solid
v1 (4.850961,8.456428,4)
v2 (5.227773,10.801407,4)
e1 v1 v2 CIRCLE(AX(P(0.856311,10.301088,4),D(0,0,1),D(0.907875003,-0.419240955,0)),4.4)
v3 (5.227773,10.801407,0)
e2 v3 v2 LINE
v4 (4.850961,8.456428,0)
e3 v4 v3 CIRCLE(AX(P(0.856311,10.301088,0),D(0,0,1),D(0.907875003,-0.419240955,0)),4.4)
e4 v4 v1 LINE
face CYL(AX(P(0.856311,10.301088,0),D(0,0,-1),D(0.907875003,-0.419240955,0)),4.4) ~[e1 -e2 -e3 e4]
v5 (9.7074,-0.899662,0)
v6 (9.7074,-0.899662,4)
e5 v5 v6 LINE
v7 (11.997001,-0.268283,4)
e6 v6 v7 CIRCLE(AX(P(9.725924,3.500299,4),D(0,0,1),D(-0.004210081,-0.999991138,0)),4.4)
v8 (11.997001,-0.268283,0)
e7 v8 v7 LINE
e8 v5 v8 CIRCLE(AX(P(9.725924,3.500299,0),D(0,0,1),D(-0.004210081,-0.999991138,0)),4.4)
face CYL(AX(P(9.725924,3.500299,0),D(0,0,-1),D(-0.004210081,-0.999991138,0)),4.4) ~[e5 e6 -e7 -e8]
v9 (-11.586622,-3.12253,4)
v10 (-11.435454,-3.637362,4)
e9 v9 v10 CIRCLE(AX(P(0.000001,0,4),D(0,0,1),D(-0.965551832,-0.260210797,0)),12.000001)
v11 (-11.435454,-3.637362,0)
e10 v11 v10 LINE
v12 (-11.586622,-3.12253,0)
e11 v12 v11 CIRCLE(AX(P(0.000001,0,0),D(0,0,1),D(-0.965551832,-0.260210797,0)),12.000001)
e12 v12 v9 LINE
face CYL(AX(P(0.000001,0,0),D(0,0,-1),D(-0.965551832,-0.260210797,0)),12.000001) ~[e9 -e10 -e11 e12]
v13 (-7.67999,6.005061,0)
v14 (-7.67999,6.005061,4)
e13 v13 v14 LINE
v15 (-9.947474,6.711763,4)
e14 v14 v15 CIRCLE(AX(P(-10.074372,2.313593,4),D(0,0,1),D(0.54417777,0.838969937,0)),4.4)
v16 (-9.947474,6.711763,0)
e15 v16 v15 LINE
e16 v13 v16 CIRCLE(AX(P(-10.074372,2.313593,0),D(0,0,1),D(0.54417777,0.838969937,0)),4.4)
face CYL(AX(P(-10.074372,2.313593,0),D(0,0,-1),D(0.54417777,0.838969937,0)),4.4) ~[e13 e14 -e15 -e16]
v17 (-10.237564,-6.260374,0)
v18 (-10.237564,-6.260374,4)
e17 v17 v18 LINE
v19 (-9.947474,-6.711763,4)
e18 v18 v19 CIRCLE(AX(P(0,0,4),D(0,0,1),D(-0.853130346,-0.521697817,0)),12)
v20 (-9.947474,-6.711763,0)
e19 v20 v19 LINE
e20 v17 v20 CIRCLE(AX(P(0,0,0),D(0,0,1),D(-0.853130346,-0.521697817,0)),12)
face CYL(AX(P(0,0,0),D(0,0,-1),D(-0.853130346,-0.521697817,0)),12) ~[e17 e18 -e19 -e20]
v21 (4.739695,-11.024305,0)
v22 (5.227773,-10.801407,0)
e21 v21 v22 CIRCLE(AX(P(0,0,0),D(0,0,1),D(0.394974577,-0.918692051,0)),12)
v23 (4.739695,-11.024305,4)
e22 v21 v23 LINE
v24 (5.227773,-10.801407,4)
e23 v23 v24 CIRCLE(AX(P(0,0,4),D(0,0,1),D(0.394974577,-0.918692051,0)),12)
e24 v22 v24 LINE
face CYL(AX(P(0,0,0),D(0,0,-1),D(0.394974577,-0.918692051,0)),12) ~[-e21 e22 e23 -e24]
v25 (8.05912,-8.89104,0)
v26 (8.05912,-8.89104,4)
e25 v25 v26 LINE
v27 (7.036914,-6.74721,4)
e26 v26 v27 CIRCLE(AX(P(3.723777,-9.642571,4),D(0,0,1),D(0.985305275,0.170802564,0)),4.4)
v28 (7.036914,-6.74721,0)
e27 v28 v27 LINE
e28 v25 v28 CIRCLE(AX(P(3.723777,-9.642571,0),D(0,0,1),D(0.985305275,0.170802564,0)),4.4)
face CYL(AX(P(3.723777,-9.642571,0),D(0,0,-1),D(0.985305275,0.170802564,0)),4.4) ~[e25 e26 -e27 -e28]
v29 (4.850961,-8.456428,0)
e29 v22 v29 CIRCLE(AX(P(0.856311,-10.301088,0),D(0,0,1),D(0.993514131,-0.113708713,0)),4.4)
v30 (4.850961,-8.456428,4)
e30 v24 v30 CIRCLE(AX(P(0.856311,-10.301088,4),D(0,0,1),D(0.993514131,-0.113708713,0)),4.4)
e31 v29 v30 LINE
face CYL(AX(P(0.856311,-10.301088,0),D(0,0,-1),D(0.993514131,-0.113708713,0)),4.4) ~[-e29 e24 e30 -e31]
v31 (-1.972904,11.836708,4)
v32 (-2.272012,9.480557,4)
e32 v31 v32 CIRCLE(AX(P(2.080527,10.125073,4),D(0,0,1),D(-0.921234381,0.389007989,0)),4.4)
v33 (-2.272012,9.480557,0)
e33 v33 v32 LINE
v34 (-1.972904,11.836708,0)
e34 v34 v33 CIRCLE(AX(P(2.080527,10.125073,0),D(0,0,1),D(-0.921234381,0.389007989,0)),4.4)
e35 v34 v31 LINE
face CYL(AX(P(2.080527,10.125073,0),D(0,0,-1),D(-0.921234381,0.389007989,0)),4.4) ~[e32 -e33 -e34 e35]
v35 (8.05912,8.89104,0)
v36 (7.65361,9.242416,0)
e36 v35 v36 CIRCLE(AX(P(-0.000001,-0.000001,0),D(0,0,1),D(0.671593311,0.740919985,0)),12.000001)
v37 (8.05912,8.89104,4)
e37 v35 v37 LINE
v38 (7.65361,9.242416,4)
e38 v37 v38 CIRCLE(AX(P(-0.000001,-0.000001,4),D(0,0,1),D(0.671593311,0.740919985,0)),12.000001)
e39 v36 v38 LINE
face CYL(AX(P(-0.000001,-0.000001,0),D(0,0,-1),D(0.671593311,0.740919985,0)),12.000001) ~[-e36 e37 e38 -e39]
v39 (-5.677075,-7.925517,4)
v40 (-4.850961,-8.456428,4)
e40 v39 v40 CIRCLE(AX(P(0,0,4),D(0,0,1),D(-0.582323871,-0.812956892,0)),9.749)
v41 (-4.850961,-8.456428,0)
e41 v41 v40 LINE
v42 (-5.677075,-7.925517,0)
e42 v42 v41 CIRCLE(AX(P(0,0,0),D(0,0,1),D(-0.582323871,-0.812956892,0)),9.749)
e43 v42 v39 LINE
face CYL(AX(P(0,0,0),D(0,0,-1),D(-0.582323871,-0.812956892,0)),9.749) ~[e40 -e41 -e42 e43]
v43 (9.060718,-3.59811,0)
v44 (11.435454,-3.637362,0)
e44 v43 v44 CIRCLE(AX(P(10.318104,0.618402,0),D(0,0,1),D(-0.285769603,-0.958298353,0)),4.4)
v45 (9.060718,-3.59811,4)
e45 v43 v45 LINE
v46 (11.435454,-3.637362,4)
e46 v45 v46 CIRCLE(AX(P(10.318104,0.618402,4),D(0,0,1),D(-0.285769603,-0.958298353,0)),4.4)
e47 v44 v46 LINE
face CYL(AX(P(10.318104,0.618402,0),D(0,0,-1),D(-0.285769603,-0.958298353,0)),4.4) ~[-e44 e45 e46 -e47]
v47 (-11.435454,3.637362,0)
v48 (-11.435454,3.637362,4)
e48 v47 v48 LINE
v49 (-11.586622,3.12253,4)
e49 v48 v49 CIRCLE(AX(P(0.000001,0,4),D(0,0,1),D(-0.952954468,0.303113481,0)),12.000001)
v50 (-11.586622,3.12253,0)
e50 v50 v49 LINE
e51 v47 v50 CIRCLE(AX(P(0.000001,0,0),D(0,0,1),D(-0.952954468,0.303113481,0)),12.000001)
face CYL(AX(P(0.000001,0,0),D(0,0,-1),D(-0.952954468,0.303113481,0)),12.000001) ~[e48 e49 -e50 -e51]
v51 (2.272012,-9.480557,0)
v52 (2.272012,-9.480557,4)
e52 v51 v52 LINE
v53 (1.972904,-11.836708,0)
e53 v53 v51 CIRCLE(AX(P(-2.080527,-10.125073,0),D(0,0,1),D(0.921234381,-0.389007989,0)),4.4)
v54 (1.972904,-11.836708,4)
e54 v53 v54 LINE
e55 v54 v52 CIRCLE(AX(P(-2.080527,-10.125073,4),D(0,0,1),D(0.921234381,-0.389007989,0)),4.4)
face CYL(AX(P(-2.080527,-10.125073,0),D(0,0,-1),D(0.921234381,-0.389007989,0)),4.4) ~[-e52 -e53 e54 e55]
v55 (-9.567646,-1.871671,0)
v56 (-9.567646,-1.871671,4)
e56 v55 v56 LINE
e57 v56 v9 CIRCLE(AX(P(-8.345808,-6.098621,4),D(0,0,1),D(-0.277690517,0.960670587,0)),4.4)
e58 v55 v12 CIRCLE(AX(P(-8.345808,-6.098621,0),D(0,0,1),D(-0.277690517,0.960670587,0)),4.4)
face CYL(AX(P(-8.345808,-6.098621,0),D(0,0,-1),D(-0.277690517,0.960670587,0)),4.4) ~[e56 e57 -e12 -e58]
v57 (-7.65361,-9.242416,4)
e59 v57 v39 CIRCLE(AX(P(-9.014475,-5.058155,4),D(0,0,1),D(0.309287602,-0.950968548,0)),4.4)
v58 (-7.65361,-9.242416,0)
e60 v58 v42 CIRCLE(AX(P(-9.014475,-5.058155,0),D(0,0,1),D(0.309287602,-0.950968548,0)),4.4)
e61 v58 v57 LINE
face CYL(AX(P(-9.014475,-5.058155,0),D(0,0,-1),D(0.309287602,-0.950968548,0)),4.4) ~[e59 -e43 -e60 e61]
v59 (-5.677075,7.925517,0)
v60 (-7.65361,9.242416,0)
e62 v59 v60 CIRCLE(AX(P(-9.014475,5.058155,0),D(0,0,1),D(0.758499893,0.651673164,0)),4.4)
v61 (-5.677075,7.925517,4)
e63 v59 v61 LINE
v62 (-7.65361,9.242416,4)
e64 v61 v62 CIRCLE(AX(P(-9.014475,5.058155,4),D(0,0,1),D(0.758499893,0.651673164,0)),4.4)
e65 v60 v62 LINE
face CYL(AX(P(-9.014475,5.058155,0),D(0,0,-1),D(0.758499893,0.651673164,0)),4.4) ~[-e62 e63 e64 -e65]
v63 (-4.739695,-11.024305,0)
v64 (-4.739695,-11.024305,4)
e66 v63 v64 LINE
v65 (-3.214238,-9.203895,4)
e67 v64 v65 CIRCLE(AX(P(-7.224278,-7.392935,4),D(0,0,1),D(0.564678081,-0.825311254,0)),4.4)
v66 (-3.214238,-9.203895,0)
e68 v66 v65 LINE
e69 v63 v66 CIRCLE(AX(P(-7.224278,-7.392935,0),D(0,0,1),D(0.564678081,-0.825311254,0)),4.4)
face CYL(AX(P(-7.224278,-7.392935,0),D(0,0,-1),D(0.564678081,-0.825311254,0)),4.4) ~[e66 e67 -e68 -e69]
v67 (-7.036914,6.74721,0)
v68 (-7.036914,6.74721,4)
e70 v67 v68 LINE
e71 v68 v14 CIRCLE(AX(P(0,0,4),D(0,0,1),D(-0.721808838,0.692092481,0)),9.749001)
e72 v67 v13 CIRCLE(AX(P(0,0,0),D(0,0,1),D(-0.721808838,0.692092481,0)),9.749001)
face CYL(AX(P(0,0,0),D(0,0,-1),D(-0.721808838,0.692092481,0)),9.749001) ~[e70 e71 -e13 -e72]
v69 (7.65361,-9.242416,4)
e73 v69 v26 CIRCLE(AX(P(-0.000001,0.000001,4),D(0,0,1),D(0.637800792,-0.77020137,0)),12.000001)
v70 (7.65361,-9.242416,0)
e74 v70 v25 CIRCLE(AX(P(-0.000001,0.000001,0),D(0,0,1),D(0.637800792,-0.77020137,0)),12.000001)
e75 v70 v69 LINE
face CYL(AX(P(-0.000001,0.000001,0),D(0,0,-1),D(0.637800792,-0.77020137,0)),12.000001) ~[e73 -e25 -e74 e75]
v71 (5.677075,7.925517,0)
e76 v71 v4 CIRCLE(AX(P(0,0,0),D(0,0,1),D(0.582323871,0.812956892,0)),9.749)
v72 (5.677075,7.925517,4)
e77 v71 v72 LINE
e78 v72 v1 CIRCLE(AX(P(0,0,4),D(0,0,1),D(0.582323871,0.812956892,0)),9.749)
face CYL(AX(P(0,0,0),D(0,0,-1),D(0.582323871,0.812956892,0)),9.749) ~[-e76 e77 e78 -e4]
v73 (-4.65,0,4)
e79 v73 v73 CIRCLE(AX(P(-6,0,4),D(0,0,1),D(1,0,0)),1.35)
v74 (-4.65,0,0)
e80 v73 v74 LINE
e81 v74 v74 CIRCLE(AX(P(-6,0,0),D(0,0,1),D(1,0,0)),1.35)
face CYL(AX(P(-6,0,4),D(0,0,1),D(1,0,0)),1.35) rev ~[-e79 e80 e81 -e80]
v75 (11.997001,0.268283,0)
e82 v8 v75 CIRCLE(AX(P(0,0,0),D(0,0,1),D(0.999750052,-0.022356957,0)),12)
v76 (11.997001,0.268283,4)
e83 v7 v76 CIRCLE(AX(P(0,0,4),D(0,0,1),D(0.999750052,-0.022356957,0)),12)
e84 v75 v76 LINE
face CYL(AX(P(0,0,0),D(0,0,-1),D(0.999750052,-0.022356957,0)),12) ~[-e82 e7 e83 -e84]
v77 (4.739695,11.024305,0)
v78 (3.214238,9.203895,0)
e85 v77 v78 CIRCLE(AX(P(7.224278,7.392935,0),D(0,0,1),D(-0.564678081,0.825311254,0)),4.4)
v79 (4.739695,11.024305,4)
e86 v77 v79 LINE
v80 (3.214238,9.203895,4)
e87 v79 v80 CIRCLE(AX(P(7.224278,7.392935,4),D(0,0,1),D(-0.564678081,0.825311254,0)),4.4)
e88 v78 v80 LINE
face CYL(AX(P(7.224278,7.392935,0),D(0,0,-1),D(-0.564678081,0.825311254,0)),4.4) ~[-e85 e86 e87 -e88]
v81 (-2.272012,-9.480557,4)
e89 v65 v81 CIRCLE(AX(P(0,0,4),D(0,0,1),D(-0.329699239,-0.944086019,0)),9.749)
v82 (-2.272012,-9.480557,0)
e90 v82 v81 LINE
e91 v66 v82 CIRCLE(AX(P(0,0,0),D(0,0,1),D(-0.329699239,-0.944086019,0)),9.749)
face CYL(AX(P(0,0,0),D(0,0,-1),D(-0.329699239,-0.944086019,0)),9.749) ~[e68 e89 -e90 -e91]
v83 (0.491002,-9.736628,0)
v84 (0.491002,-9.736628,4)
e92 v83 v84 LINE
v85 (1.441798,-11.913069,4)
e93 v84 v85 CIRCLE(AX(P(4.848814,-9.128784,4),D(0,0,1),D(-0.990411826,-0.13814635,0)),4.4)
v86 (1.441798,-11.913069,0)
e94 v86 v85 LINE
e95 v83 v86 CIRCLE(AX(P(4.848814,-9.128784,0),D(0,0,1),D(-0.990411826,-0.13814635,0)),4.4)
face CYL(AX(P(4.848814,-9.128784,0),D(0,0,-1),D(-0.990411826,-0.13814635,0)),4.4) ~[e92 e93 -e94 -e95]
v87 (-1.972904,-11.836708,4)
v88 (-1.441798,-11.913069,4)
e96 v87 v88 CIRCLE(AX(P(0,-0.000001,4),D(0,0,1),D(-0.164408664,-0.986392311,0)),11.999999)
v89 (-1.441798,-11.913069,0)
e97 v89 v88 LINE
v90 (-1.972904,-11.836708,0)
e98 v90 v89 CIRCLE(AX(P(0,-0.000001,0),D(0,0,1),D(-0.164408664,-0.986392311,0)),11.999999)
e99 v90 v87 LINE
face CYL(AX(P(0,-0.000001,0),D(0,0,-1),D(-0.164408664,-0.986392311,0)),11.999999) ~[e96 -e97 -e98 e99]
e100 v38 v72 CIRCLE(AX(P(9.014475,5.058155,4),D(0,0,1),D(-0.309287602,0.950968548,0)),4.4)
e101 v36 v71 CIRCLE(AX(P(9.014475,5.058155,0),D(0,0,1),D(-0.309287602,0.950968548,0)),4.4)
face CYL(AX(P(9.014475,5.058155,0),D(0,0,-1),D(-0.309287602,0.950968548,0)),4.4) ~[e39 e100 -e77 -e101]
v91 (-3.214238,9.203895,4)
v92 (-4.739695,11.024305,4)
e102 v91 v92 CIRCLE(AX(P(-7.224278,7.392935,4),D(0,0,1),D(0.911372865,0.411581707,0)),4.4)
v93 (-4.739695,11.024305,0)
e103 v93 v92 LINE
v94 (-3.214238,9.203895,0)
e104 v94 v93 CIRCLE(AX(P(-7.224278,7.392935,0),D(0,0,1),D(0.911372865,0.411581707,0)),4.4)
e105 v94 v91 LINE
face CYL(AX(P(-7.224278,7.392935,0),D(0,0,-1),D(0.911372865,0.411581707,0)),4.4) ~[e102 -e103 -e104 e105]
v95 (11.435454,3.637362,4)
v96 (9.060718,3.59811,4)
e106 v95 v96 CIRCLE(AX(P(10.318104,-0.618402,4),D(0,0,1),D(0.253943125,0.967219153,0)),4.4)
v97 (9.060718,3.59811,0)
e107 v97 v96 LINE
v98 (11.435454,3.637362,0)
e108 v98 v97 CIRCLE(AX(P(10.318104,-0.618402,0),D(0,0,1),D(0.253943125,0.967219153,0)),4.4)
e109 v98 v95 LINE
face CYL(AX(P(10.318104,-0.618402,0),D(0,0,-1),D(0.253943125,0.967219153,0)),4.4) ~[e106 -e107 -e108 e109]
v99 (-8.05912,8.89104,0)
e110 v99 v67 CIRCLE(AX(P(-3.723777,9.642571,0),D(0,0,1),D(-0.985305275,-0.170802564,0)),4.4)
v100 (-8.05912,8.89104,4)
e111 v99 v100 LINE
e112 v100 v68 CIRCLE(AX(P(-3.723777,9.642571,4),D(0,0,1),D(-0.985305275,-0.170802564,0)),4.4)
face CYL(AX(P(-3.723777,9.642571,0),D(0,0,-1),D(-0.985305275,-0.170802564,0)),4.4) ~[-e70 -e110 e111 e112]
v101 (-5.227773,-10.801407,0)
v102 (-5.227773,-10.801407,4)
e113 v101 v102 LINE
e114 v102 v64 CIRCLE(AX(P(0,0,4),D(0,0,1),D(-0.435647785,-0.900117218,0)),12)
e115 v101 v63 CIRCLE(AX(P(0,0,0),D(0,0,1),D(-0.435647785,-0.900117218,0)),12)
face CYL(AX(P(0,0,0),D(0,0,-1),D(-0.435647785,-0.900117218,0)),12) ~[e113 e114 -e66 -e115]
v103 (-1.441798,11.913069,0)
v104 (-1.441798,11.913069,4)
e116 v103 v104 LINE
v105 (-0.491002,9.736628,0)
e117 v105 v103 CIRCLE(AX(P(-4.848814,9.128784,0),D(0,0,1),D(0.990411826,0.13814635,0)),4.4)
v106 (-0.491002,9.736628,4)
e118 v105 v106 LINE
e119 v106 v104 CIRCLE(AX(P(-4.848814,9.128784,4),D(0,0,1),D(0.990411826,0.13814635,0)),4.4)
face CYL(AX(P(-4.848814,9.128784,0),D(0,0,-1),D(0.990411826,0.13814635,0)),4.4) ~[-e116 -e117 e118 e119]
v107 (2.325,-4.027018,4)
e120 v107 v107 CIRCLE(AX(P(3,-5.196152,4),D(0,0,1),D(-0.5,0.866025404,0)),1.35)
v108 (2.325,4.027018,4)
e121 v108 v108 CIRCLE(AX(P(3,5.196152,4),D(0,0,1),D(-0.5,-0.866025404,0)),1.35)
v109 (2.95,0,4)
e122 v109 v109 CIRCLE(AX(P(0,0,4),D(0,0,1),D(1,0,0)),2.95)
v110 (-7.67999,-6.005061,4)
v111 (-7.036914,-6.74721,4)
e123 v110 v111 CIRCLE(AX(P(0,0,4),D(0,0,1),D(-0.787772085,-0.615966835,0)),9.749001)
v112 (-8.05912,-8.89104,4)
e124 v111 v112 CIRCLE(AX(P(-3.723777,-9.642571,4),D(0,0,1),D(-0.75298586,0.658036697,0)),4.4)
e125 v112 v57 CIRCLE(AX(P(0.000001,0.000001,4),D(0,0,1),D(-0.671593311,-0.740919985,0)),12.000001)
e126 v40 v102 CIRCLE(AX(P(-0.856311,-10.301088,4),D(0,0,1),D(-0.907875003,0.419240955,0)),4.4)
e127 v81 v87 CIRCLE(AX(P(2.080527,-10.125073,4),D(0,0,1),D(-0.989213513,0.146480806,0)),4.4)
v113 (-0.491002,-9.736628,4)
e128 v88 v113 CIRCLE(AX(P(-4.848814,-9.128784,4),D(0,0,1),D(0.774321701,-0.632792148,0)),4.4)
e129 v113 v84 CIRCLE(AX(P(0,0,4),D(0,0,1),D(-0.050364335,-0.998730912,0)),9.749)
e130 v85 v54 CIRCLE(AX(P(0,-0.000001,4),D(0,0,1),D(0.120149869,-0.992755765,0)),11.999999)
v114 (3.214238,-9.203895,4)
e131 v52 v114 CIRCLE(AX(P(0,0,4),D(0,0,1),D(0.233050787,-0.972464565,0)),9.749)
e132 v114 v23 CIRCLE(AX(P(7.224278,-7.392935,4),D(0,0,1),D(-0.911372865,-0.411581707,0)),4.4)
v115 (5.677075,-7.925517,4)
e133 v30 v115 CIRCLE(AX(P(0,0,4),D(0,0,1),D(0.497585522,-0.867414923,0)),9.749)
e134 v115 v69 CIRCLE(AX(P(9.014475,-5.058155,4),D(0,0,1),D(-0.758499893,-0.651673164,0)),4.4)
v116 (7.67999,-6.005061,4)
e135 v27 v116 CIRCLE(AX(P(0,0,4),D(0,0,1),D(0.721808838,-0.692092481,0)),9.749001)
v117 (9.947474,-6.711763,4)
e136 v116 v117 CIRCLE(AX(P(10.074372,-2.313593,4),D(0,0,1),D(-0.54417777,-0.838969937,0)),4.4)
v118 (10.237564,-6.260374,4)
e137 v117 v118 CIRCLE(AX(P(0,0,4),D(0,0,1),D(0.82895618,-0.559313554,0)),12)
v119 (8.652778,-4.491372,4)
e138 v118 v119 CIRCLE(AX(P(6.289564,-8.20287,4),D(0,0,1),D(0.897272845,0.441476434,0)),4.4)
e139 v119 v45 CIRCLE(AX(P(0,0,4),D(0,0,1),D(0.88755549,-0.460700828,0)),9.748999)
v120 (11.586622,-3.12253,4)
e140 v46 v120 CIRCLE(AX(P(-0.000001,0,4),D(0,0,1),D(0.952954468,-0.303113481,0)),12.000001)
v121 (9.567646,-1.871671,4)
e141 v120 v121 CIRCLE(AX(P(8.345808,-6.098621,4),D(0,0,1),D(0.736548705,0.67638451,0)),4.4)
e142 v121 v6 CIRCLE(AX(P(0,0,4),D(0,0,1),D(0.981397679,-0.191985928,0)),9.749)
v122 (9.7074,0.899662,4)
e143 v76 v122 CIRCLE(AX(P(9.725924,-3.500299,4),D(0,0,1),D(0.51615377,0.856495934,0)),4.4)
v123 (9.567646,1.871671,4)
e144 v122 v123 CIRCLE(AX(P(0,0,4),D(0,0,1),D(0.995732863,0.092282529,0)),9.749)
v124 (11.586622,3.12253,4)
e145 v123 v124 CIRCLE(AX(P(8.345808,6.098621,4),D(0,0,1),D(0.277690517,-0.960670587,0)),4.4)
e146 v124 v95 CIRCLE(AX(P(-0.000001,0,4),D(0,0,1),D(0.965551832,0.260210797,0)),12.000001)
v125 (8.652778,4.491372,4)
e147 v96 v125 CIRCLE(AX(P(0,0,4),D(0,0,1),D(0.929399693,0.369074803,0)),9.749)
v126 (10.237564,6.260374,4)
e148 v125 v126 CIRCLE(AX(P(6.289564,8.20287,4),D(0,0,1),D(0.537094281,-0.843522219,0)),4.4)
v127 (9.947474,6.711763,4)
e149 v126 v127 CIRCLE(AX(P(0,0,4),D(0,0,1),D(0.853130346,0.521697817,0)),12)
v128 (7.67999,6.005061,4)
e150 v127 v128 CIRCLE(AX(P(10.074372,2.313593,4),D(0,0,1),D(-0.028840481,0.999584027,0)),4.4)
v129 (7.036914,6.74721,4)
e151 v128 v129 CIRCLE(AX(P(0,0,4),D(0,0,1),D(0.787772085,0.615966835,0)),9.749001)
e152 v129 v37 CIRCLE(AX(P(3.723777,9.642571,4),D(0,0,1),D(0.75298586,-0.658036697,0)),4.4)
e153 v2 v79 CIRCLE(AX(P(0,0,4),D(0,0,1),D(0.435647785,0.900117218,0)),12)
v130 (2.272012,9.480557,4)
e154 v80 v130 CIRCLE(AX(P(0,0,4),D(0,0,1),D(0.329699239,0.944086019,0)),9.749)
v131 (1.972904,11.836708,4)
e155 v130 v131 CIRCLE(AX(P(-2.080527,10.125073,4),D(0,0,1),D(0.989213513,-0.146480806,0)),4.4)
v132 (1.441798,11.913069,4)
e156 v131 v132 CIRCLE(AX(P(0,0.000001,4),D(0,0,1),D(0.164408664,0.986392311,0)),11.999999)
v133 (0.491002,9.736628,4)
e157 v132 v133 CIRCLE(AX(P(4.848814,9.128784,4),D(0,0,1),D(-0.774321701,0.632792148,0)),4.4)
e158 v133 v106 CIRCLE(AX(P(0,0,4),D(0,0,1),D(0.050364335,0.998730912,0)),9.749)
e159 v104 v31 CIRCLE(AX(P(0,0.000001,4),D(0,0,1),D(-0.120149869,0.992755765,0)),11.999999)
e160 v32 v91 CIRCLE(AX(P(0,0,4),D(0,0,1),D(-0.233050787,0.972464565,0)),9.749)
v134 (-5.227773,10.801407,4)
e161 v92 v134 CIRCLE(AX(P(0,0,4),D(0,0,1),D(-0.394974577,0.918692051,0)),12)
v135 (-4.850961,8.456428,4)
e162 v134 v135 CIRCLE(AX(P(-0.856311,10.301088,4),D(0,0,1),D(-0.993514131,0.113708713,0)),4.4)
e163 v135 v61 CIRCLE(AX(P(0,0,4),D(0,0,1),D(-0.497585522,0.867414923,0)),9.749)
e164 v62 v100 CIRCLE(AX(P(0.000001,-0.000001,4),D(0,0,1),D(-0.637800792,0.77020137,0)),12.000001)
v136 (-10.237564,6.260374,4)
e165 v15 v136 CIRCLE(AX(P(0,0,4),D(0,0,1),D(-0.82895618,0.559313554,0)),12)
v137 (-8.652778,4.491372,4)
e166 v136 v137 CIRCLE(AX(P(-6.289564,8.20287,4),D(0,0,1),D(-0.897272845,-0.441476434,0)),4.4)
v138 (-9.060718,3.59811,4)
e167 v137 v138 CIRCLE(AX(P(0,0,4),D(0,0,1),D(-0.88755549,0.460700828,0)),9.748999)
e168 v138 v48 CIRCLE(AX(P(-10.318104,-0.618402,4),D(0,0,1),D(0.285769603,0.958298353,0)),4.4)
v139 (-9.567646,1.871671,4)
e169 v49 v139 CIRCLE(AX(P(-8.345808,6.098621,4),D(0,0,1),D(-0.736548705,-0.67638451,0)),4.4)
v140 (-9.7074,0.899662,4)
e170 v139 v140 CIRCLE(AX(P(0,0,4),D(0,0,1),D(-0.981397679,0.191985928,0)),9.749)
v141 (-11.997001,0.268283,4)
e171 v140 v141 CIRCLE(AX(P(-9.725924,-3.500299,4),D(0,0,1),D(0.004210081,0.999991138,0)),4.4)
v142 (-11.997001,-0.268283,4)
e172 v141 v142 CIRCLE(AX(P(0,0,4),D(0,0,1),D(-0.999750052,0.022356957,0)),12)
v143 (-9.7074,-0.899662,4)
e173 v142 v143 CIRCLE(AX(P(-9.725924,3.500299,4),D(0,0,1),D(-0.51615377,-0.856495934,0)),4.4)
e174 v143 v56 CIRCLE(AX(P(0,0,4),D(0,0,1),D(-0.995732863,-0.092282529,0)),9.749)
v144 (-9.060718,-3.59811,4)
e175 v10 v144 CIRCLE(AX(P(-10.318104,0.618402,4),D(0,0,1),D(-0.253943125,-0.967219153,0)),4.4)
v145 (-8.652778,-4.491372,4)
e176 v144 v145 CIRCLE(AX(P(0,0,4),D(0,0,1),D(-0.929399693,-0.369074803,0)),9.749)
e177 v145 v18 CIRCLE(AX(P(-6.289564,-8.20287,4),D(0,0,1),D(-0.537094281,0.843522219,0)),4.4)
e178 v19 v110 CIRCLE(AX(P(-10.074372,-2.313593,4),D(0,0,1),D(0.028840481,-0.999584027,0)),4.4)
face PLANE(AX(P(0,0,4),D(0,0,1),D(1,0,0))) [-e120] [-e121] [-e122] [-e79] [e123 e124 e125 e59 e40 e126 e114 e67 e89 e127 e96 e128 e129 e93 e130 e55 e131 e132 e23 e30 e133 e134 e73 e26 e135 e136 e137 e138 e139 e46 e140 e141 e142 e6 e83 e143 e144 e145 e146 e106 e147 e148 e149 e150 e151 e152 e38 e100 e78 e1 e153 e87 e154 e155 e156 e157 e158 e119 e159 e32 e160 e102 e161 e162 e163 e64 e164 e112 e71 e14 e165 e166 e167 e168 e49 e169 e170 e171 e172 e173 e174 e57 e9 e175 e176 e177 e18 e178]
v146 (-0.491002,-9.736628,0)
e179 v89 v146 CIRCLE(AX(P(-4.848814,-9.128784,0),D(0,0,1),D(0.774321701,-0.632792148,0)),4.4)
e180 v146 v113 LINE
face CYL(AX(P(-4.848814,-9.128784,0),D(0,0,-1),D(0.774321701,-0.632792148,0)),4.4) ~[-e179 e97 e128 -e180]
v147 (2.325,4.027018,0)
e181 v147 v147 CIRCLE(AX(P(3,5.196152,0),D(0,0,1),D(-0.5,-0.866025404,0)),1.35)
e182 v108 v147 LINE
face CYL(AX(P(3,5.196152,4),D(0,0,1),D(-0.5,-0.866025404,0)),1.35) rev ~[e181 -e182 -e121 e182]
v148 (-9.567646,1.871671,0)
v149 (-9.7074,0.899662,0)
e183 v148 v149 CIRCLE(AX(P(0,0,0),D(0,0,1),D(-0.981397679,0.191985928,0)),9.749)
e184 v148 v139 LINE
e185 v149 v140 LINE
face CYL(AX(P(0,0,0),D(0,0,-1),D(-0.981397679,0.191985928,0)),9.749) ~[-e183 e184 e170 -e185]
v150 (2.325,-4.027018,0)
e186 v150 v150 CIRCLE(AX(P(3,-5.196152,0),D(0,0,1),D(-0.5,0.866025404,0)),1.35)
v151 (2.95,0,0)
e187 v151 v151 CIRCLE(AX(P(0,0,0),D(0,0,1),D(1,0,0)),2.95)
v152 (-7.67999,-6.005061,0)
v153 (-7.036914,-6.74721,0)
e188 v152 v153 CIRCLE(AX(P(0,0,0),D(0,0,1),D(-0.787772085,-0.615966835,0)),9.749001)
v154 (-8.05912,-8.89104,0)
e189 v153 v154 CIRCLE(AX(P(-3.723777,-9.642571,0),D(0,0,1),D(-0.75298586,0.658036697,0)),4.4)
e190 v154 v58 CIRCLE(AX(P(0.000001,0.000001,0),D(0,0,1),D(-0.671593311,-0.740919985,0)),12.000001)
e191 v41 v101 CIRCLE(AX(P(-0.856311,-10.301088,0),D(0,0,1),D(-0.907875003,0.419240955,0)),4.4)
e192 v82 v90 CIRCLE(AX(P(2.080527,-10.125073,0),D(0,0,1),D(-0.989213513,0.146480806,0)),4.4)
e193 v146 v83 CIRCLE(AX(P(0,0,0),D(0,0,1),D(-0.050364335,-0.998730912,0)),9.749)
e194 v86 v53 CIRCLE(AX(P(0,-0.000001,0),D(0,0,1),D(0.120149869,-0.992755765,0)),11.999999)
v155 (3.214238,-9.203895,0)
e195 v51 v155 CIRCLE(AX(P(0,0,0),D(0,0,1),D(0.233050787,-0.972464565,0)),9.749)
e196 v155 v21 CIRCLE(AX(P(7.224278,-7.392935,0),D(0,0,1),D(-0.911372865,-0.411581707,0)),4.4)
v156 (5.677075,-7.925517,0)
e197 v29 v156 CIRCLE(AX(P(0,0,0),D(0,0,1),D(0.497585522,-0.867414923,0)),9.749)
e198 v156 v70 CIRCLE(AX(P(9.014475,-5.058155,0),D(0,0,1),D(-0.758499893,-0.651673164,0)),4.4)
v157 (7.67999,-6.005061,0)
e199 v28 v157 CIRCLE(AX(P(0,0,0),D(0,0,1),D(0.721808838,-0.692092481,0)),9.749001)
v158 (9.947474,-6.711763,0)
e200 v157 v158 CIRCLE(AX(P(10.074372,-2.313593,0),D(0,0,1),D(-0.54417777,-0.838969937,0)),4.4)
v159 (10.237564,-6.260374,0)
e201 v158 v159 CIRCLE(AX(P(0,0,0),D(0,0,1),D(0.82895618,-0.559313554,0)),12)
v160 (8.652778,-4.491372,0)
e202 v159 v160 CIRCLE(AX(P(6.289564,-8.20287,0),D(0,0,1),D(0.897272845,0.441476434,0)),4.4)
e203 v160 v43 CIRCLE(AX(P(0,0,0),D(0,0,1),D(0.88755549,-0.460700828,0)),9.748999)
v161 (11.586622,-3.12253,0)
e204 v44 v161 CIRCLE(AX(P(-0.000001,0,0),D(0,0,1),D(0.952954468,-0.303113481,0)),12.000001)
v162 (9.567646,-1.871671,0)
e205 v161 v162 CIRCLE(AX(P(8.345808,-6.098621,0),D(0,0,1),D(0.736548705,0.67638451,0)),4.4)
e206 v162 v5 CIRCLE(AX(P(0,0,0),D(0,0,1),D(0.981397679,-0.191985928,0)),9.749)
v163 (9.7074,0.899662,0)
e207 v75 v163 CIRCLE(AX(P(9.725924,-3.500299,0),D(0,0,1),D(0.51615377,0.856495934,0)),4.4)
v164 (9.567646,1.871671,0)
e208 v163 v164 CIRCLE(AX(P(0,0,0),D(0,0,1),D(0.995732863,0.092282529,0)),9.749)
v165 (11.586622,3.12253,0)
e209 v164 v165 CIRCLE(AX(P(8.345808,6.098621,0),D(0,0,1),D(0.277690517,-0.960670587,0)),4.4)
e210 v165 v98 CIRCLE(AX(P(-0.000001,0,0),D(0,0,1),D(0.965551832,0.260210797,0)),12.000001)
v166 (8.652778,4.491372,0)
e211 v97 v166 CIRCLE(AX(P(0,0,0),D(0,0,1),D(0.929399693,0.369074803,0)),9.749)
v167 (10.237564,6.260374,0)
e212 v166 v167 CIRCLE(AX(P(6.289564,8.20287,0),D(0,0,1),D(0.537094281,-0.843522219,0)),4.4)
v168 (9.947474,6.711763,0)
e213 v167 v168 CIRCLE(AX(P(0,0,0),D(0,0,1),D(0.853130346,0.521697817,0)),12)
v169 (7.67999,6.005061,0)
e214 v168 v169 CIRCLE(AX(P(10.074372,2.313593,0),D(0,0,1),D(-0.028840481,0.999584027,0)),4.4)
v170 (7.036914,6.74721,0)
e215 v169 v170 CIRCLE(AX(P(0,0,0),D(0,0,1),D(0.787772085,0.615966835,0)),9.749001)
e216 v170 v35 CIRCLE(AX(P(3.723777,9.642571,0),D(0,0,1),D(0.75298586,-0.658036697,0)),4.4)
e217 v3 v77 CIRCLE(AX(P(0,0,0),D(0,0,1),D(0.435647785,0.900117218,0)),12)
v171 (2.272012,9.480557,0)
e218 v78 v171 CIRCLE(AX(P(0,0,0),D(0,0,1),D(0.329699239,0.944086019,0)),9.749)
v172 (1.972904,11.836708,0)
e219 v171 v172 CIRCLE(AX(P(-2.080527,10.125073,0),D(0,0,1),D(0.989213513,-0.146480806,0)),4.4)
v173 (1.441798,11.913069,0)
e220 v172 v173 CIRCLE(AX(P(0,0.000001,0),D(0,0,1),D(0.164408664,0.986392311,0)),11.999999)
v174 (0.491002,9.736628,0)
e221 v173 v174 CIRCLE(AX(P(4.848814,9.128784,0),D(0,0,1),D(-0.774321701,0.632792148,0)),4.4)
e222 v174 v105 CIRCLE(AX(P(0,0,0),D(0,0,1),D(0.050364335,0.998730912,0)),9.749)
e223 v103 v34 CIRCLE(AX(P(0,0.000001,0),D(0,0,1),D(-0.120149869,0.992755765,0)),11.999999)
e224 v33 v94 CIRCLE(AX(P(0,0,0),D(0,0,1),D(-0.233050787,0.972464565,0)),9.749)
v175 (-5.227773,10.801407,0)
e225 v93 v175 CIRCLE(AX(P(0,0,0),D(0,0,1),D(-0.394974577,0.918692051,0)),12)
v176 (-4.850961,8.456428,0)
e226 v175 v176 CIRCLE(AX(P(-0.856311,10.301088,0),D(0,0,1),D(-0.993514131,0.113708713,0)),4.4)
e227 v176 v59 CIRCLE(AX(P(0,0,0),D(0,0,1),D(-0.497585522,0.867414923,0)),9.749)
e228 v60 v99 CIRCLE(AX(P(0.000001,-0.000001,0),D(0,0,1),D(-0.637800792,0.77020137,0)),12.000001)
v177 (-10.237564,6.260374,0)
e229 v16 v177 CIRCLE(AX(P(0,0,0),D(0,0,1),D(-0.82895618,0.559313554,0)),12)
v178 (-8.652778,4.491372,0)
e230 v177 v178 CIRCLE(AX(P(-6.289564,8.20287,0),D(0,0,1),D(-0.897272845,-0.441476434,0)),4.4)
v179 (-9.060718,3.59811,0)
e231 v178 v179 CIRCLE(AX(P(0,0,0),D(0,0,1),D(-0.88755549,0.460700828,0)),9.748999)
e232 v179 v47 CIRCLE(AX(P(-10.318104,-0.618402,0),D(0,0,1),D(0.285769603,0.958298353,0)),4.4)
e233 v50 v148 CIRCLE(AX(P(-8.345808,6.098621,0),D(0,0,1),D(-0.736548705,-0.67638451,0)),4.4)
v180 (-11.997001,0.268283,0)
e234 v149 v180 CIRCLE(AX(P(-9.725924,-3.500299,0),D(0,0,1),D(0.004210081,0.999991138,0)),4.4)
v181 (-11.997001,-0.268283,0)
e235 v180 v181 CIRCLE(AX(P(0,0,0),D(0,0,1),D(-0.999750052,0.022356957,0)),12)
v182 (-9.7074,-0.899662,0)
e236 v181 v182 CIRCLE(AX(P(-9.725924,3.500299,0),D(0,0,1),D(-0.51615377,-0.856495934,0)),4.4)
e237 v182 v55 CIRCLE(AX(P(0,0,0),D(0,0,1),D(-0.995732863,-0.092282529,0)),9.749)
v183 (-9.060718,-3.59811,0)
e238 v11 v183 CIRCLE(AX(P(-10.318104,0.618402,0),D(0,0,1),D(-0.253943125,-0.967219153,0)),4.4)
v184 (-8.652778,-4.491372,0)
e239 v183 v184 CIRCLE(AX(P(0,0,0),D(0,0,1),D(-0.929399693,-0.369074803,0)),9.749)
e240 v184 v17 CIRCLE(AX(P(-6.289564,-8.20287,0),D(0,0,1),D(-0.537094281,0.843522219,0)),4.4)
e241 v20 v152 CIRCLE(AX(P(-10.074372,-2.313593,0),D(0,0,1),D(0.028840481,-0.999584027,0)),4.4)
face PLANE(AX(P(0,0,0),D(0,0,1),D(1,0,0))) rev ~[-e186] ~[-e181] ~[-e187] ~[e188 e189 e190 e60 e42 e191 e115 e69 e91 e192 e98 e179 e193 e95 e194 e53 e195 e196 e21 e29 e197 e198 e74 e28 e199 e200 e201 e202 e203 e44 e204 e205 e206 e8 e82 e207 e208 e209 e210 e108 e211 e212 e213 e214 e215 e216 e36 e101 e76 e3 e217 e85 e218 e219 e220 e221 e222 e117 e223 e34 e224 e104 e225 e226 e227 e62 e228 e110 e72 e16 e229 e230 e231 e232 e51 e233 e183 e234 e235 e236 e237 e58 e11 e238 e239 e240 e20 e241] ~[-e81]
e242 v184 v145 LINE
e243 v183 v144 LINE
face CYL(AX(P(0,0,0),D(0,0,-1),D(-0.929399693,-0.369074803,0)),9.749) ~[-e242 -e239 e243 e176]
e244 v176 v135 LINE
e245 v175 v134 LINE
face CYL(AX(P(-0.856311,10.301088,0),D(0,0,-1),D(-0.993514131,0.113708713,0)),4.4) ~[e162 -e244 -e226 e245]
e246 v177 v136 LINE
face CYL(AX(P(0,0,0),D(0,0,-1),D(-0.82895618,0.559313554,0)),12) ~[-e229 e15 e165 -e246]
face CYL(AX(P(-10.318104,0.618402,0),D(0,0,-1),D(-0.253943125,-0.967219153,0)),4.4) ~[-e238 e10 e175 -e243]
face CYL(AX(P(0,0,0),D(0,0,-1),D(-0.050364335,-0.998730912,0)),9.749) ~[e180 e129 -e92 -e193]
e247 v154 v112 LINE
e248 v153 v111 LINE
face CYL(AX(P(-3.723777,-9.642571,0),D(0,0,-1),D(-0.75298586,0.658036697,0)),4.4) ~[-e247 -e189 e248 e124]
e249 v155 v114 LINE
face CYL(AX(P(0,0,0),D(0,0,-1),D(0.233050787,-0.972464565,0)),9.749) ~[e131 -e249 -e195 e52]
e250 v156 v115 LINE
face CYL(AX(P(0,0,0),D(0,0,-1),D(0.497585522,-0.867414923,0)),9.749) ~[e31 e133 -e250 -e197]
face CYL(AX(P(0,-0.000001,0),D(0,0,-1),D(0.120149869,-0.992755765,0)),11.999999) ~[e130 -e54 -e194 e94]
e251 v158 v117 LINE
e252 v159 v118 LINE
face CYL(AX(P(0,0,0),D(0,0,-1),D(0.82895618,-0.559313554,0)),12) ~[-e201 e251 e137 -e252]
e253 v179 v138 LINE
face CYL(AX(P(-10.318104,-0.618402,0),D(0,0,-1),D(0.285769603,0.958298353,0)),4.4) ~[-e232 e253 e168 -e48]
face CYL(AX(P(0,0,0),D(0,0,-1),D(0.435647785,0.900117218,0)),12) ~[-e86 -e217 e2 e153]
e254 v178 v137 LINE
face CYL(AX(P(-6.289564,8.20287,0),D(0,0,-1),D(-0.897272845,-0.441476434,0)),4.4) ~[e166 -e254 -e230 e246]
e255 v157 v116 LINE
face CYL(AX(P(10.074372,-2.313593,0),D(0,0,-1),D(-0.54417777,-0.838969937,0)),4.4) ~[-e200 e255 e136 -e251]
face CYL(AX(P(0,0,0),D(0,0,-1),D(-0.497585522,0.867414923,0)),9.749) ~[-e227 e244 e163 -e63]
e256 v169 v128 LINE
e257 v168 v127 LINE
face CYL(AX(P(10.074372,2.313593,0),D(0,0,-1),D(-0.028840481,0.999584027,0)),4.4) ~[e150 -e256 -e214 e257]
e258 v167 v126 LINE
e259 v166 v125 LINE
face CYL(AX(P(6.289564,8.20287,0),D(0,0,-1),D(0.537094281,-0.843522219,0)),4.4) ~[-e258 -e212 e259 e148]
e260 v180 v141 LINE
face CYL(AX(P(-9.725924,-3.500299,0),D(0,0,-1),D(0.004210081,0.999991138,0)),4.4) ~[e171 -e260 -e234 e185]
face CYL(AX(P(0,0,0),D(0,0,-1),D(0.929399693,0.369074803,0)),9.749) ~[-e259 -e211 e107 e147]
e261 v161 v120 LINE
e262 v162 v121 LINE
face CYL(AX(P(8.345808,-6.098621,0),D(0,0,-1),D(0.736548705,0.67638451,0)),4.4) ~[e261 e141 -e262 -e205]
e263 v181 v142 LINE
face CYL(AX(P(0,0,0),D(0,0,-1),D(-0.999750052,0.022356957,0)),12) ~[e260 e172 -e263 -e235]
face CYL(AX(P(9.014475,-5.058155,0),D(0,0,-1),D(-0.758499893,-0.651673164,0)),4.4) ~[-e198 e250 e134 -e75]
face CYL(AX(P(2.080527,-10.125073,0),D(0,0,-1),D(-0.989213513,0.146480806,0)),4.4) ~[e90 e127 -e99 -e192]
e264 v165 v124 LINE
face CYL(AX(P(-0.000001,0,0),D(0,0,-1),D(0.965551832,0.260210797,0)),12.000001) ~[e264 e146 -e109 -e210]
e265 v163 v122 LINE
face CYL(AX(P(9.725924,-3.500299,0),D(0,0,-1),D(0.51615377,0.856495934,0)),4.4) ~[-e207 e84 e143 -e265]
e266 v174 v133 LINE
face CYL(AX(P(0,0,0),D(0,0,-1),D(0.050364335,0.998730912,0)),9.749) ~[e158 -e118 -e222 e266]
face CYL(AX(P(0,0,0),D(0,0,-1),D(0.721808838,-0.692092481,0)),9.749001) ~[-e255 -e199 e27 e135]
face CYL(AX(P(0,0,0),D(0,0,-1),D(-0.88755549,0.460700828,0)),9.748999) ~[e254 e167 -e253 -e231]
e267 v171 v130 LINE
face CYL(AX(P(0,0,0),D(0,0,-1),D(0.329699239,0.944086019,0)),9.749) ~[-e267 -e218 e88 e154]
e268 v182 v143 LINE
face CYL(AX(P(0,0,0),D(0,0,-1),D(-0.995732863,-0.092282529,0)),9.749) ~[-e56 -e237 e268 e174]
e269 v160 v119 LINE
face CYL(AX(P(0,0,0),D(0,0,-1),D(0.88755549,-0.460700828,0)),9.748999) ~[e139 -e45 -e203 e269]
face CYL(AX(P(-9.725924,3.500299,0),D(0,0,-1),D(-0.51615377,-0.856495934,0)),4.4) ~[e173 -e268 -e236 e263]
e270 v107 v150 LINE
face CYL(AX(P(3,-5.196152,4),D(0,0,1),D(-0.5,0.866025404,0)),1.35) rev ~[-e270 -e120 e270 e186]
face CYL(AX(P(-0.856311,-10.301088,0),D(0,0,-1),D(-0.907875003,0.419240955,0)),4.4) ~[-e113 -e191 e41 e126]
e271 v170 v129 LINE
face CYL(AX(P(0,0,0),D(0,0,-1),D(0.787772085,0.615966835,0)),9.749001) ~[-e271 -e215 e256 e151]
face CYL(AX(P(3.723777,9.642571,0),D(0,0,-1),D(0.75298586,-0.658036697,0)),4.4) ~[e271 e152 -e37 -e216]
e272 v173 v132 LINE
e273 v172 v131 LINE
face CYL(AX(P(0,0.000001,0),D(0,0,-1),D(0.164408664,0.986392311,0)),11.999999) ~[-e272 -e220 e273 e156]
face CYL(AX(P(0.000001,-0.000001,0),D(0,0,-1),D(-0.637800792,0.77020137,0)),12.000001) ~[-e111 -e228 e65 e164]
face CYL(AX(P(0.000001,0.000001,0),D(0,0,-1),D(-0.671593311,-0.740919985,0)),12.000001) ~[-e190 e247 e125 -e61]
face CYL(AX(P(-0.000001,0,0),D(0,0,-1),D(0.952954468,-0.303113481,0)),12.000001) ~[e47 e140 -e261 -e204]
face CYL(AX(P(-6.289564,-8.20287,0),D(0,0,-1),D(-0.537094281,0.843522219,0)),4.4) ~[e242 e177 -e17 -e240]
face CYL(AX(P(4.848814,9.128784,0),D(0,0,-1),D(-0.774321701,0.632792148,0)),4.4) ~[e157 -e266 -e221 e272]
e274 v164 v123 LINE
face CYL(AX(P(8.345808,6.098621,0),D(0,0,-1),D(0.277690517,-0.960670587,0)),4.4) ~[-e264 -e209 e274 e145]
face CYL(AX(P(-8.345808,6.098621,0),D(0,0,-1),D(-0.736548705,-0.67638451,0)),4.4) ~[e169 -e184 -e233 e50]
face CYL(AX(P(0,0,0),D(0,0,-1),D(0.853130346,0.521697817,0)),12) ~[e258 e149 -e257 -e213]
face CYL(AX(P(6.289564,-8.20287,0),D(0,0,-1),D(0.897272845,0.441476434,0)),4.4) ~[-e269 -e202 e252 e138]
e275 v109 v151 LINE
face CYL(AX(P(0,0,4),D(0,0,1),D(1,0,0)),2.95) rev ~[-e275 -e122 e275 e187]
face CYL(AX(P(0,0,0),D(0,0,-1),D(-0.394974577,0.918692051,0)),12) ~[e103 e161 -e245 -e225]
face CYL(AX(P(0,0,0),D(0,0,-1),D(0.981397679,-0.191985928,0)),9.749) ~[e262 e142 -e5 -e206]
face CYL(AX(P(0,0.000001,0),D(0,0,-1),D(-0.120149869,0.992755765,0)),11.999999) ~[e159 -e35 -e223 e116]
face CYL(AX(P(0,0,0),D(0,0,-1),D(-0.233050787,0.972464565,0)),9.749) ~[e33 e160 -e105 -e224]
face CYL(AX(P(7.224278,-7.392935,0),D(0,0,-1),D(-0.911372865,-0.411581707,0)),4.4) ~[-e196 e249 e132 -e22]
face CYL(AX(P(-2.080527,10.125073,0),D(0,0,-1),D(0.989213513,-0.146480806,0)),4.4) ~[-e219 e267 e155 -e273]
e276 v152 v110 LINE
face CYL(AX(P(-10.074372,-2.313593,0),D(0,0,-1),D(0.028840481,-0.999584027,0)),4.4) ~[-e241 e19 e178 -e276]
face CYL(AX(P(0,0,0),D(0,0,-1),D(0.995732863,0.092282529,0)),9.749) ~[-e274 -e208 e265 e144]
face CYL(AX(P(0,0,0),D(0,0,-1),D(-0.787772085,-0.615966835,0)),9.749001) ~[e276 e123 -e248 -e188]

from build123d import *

# Parameters (mm, degrees)
MODEL_R             = 2.5
BOSS_EXTRUDE1_DEPTH = 4
SKETCH2_R           = 2.95
CUT_EXTRUDE1_DEPTH  = 4
SKETCH3_R           = 1.35
CUT_EXTRUDE2_DEPTH  = 4
CIRPATTERN1_COUNT   = 3


with BuildPart() as part:
    # Model → Boss-Extrude1 (new body)
    with BuildSketch(Plane.XY):
        with BuildLine():
            ThreePointArc((-11.997000624, 0.268283487), (-12, 0), (-11.997000624, -0.268283487))
            ThreePointArc((-11.997000624, -0.268283487), (-10.895606779, -0.741380557), (-9.707399683, -0.89966238))
            ThreePointArc((-9.707399683, -0.89966238), (-9.649769237, -1.387427358), (-9.56764597, -1.8716708))
            ThreePointArc((-9.56764597, -1.8716708), (-10.663129188, -2.358297721), (-11.586621996, -3.122529539))
            ThreePointArc((-11.586621996, -3.122529539), (-11.513915683, -3.380790682), (-11.43545361, -3.637361781))
            ThreePointArc((-11.43545361, -3.637361781), (-10.245387108, -3.780996591), (-9.060717605, -3.598110265))
            ThreePointArc((-9.060717605, -3.598110265), (-8.868002323, -4.049880962), (-8.652778483, -4.491372344))
            ThreePointArc((-8.652778483, -4.491372344), (-9.566788286, -5.266920743), (-10.237564162, -6.260373793))
            ThreePointArc((-10.237564162, -6.260373793), (-10.095042394, -6.487689809), (-9.947474154, -6.711762656))
            ThreePointArc((-9.947474154, -6.711762656), (-8.765147105, -6.514298768), (-7.679990073, -6.005060656))
            ThreePointArc((-7.679990073, -6.005060656), (-7.3678026, -6.384237295), (-7.036914342, -6.747209612))
            ThreePointArc((-7.036914342, -6.747209612), (-7.695403093, -7.74884917), (-8.059119765, -8.891039794))
            ThreePointArc((-8.059119765, -8.891039794), (-7.858328807, -9.068994892), (-7.653609502, -9.242416436))
            ThreePointArc((-7.653609502, -9.242416436), (-6.574807012, -8.719851201), (-5.67707542, -7.925516745))
            ThreePointArc((-5.67707542, -7.925516745), (-5.270707329, -8.201380692), (-4.850961252, -8.456428084))
            ThreePointArc((-4.850961252, -8.456428084), (-5.200582107, -9.603011921), (-5.227773414, -10.801406627))
            ThreePointArc((-5.227773414, -10.801406627), (-4.984980156, -10.915583944), (-4.739694926, -11.024304604))
            ThreePointArc((-4.739694926, -11.024304604), (-3.851815156, -10.218973149), (-3.214237879, -9.203894603))
            ThreePointArc((-3.214237879, -9.203894603), (-2.746610697, -9.354097), (-2.27201213, -9.480557045))
            ThreePointArc((-2.27201213, -9.480557045), (-2.284440889, -10.679195758), (-1.972903952, -11.836707735))
            ThreePointArc((-1.972903952, -11.836707735), (-1.707778059, -11.877857303), (-1.441798455, -11.913069177))
            ThreePointArc((-1.441798455, -11.913069177), (-0.816772145, -10.890214666), (-0.491001901, -9.736627657))
            ThreePointArc((-0.491001901, -9.736627657), (0, -9.749), (0.491001901, -9.736627657))
            ThreePointArc((0.491001901, -9.736627657), (0.816772145, -10.890214666), (1.441798455, -11.913069177))
            ThreePointArc((1.441798455, -11.913069177), (1.707778059, -11.877857303), (1.972903952, -11.836707735))
            ThreePointArc((1.972903952, -11.836707735), (2.284440889, -10.679195758), (2.27201213, -9.480557045))
            ThreePointArc((2.27201213, -9.480557045), (2.746610697, -9.354097), (3.214237879, -9.203894603))
            ThreePointArc((3.214237879, -9.203894603), (3.851815156, -10.218973149), (4.739694926, -11.024304604))
            ThreePointArc((4.739694926, -11.024304604), (4.984980156, -10.915583944), (5.227773414, -10.801406627))
            ThreePointArc((5.227773414, -10.801406627), (5.200582107, -9.603011921), (4.850961252, -8.456428084))
            ThreePointArc((4.850961252, -8.456428084), (5.270707329, -8.201380692), (5.67707542, -7.925516745))
            ThreePointArc((5.67707542, -7.925516745), (6.574807012, -8.719851201), (7.653609502, -9.242416436))
            ThreePointArc((7.653609502, -9.242416436), (7.858328807, -9.068994892), (8.059119765, -8.891039794))
            ThreePointArc((8.059119765, -8.891039794), (7.695403093, -7.74884917), (7.036914342, -6.747209612))
            ThreePointArc((7.036914342, -6.747209612), (7.3678026, -6.384237295), (7.679990073, -6.005060656))
            ThreePointArc((7.679990073, -6.005060656), (8.765147105, -6.514298768), (9.947474154, -6.711762656))
            ThreePointArc((9.947474154, -6.711762656), (10.095042394, -6.487689809), (10.237564162, -6.260373793))
            ThreePointArc((10.237564162, -6.260373793), (9.566788286, -5.266920743), (8.652778482, -4.491372344))
            ThreePointArc((8.652778482, -4.491372344), (8.868002323, -4.049880962), (9.060717605, -3.598110265))
            ThreePointArc((9.060717605, -3.598110265), (10.245387108, -3.780996591), (11.43545361, -3.637361781))
            ThreePointArc((11.43545361, -3.637361781), (11.513915683, -3.380790682), (11.586621996, -3.122529539))
            ThreePointArc((11.586621996, -3.122529539), (10.663129188, -2.358297721), (9.56764597, -1.8716708))
            ThreePointArc((9.56764597, -1.8716708), (9.649769237, -1.387427358), (9.707399683, -0.89966238))
            ThreePointArc((9.707399683, -0.89966238), (10.895606779, -0.741380557), (11.997000624, -0.268283487))
            ThreePointArc((11.997000624, -0.268283487), (12, 0), (11.997000624, 0.268283487))
            ThreePointArc((11.997000624, 0.268283487), (10.895606779, 0.741380557), (9.707399683, 0.89966238))
            ThreePointArc((9.707399683, 0.89966238), (9.649769237, 1.387427358), (9.56764597, 1.8716708))
            ThreePointArc((9.56764597, 1.8716708), (10.663129188, 2.358297721), (11.586621996, 3.122529539))
            ThreePointArc((11.586621996, 3.122529539), (11.513915683, 3.380790682), (11.43545361, 3.637361781))
            ThreePointArc((11.43545361, 3.637361781), (10.245387108, 3.780996591), (9.060717605, 3.598110265))
            ThreePointArc((9.060717605, 3.598110265), (8.868002323, 4.049880962), (8.652778483, 4.491372344))
            ThreePointArc((8.652778483, 4.491372344), (9.566788286, 5.266920743), (10.237564162, 6.260373793))
            ThreePointArc((10.237564162, 6.260373793), (10.095042394, 6.487689809), (9.947474154, 6.711762656))
            ThreePointArc((9.947474154, 6.711762656), (8.765147105, 6.514298768), (7.679990073, 6.005060656))
            ThreePointArc((7.679990073, 6.005060656), (7.3678026, 6.384237295), (7.036914342, 6.747209612))
            ThreePointArc((7.036914342, 6.747209612), (7.695403093, 7.74884917), (8.059119765, 8.891039794))
            ThreePointArc((8.059119765, 8.891039794), (7.858328807, 9.068994892), (7.653609502, 9.242416436))
            ThreePointArc((7.653609502, 9.242416436), (6.574807012, 8.719851201), (5.67707542, 7.925516745))
            ThreePointArc((5.67707542, 7.925516745), (5.270707329, 8.201380692), (4.850961252, 8.456428084))
            ThreePointArc((4.850961252, 8.456428084), (5.200582107, 9.603011921), (5.227773414, 10.801406627))
            ThreePointArc((5.227773414, 10.801406627), (4.984980156, 10.915583944), (4.739694926, 11.024304604))
            ThreePointArc((4.739694926, 11.024304604), (3.851815156, 10.218973149), (3.214237879, 9.203894603))
            ThreePointArc((3.214237879, 9.203894603), (2.746610697, 9.354097), (2.27201213, 9.480557045))
            ThreePointArc((2.27201213, 9.480557045), (2.284440889, 10.679195758), (1.972903952, 11.836707735))
            ThreePointArc((1.972903952, 11.836707735), (1.707778059, 11.877857303), (1.441798455, 11.913069177))
            ThreePointArc((1.441798455, 11.913069177), (0.816772145, 10.890214666), (0.491001901, 9.736627657))
            ThreePointArc((0.491001901, 9.736627657), (0, 9.749), (-0.491001901, 9.736627657))
            ThreePointArc((-0.491001901, 9.736627657), (-0.816772145, 10.890214666), (-1.441798455, 11.913069177))
            ThreePointArc((-1.441798455, 11.913069177), (-1.707778059, 11.877857303), (-1.972903952, 11.836707735))
            ThreePointArc((-1.972903952, 11.836707735), (-2.284440889, 10.679195758), (-2.27201213, 9.480557045))
            ThreePointArc((-2.27201213, 9.480557045), (-2.746610697, 9.354097), (-3.214237879, 9.203894603))
            ThreePointArc((-3.214237879, 9.203894603), (-3.851815156, 10.218973149), (-4.739694926, 11.024304604))
            ThreePointArc((-4.739694926, 11.024304604), (-4.984980156, 10.915583944), (-5.227773414, 10.801406627))
            ThreePointArc((-5.227773414, 10.801406627), (-5.200582107, 9.603011921), (-4.850961252, 8.456428084))
            ThreePointArc((-4.850961252, 8.456428084), (-5.270707329, 8.201380692), (-5.67707542, 7.925516745))
            ThreePointArc((-5.67707542, 7.925516745), (-6.574807012, 8.719851201), (-7.653609502, 9.242416436))
            ThreePointArc((-7.653609502, 9.242416436), (-7.858328807, 9.068994892), (-8.059119765, 8.891039794))
            ThreePointArc((-8.059119765, 8.891039794), (-7.695403093, 7.74884917), (-7.036914342, 6.747209612))
            ThreePointArc((-7.036914342, 6.747209612), (-7.3678026, 6.384237295), (-7.679990073, 6.005060656))
            ThreePointArc((-7.679990073, 6.005060656), (-8.765147105, 6.514298768), (-9.947474154, 6.711762656))
            ThreePointArc((-9.947474154, 6.711762656), (-10.095042394, 6.487689809), (-10.237564162, 6.260373793))
            ThreePointArc((-10.237564162, 6.260373793), (-9.566788286, 5.266920743), (-8.652778482, 4.491372344))
            ThreePointArc((-8.652778482, 4.491372344), (-8.868002323, 4.049880962), (-9.060717605, 3.598110265))
            ThreePointArc((-9.060717605, 3.598110265), (-10.245387108, 3.780996591), (-11.43545361, 3.637361781))
            ThreePointArc((-11.43545361, 3.637361781), (-11.513915683, 3.380790682), (-11.586621996, 3.122529539))
            ThreePointArc((-11.586621996, 3.122529539), (-10.663129188, 2.358297721), (-9.56764597, 1.8716708))
            ThreePointArc((-9.56764597, 1.8716708), (-9.649769237, 1.387427358), (-9.707399683, 0.89966238))
            ThreePointArc((-9.707399683, 0.89966238), (-10.895606779, 0.741380557), (-11.997000624, 0.268283487))
        make_face()
        Circle(MODEL_R, mode=Mode.SUBTRACT)
    extrude(amount=BOSS_EXTRUDE1_DEPTH)

    # Sketch2 → Cut-Extrude1 (cut)
    with BuildSketch(Plane.XY.offset(4)):
        Circle(SKETCH2_R)
    extrude(amount=-CUT_EXTRUDE1_DEPTH, mode=Mode.SUBTRACT)

    # Sketch3 → Cut-Extrude2 (cut)
    with BuildSketch(Plane.XY.offset(4)):
        with Locations((-6, 0)):
            Circle(SKETCH3_R)
    cut_extrude2 = extrude(amount=-CUT_EXTRUDE2_DEPTH, mode=Mode.SUBTRACT)

    # CirPattern1: Cut-Extrude2 ×3 about axis
    cirpattern1_axis = Axis((0, 0, 0), (0, 0, 1))
    for i in range(1, CIRPATTERN1_COUNT):
        add(cut_extrude2.rotate(cirpattern1_axis, i * 360 / CIRPATTERN1_COUNT), mode=Mode.SUBTRACT)


solid = part.part
